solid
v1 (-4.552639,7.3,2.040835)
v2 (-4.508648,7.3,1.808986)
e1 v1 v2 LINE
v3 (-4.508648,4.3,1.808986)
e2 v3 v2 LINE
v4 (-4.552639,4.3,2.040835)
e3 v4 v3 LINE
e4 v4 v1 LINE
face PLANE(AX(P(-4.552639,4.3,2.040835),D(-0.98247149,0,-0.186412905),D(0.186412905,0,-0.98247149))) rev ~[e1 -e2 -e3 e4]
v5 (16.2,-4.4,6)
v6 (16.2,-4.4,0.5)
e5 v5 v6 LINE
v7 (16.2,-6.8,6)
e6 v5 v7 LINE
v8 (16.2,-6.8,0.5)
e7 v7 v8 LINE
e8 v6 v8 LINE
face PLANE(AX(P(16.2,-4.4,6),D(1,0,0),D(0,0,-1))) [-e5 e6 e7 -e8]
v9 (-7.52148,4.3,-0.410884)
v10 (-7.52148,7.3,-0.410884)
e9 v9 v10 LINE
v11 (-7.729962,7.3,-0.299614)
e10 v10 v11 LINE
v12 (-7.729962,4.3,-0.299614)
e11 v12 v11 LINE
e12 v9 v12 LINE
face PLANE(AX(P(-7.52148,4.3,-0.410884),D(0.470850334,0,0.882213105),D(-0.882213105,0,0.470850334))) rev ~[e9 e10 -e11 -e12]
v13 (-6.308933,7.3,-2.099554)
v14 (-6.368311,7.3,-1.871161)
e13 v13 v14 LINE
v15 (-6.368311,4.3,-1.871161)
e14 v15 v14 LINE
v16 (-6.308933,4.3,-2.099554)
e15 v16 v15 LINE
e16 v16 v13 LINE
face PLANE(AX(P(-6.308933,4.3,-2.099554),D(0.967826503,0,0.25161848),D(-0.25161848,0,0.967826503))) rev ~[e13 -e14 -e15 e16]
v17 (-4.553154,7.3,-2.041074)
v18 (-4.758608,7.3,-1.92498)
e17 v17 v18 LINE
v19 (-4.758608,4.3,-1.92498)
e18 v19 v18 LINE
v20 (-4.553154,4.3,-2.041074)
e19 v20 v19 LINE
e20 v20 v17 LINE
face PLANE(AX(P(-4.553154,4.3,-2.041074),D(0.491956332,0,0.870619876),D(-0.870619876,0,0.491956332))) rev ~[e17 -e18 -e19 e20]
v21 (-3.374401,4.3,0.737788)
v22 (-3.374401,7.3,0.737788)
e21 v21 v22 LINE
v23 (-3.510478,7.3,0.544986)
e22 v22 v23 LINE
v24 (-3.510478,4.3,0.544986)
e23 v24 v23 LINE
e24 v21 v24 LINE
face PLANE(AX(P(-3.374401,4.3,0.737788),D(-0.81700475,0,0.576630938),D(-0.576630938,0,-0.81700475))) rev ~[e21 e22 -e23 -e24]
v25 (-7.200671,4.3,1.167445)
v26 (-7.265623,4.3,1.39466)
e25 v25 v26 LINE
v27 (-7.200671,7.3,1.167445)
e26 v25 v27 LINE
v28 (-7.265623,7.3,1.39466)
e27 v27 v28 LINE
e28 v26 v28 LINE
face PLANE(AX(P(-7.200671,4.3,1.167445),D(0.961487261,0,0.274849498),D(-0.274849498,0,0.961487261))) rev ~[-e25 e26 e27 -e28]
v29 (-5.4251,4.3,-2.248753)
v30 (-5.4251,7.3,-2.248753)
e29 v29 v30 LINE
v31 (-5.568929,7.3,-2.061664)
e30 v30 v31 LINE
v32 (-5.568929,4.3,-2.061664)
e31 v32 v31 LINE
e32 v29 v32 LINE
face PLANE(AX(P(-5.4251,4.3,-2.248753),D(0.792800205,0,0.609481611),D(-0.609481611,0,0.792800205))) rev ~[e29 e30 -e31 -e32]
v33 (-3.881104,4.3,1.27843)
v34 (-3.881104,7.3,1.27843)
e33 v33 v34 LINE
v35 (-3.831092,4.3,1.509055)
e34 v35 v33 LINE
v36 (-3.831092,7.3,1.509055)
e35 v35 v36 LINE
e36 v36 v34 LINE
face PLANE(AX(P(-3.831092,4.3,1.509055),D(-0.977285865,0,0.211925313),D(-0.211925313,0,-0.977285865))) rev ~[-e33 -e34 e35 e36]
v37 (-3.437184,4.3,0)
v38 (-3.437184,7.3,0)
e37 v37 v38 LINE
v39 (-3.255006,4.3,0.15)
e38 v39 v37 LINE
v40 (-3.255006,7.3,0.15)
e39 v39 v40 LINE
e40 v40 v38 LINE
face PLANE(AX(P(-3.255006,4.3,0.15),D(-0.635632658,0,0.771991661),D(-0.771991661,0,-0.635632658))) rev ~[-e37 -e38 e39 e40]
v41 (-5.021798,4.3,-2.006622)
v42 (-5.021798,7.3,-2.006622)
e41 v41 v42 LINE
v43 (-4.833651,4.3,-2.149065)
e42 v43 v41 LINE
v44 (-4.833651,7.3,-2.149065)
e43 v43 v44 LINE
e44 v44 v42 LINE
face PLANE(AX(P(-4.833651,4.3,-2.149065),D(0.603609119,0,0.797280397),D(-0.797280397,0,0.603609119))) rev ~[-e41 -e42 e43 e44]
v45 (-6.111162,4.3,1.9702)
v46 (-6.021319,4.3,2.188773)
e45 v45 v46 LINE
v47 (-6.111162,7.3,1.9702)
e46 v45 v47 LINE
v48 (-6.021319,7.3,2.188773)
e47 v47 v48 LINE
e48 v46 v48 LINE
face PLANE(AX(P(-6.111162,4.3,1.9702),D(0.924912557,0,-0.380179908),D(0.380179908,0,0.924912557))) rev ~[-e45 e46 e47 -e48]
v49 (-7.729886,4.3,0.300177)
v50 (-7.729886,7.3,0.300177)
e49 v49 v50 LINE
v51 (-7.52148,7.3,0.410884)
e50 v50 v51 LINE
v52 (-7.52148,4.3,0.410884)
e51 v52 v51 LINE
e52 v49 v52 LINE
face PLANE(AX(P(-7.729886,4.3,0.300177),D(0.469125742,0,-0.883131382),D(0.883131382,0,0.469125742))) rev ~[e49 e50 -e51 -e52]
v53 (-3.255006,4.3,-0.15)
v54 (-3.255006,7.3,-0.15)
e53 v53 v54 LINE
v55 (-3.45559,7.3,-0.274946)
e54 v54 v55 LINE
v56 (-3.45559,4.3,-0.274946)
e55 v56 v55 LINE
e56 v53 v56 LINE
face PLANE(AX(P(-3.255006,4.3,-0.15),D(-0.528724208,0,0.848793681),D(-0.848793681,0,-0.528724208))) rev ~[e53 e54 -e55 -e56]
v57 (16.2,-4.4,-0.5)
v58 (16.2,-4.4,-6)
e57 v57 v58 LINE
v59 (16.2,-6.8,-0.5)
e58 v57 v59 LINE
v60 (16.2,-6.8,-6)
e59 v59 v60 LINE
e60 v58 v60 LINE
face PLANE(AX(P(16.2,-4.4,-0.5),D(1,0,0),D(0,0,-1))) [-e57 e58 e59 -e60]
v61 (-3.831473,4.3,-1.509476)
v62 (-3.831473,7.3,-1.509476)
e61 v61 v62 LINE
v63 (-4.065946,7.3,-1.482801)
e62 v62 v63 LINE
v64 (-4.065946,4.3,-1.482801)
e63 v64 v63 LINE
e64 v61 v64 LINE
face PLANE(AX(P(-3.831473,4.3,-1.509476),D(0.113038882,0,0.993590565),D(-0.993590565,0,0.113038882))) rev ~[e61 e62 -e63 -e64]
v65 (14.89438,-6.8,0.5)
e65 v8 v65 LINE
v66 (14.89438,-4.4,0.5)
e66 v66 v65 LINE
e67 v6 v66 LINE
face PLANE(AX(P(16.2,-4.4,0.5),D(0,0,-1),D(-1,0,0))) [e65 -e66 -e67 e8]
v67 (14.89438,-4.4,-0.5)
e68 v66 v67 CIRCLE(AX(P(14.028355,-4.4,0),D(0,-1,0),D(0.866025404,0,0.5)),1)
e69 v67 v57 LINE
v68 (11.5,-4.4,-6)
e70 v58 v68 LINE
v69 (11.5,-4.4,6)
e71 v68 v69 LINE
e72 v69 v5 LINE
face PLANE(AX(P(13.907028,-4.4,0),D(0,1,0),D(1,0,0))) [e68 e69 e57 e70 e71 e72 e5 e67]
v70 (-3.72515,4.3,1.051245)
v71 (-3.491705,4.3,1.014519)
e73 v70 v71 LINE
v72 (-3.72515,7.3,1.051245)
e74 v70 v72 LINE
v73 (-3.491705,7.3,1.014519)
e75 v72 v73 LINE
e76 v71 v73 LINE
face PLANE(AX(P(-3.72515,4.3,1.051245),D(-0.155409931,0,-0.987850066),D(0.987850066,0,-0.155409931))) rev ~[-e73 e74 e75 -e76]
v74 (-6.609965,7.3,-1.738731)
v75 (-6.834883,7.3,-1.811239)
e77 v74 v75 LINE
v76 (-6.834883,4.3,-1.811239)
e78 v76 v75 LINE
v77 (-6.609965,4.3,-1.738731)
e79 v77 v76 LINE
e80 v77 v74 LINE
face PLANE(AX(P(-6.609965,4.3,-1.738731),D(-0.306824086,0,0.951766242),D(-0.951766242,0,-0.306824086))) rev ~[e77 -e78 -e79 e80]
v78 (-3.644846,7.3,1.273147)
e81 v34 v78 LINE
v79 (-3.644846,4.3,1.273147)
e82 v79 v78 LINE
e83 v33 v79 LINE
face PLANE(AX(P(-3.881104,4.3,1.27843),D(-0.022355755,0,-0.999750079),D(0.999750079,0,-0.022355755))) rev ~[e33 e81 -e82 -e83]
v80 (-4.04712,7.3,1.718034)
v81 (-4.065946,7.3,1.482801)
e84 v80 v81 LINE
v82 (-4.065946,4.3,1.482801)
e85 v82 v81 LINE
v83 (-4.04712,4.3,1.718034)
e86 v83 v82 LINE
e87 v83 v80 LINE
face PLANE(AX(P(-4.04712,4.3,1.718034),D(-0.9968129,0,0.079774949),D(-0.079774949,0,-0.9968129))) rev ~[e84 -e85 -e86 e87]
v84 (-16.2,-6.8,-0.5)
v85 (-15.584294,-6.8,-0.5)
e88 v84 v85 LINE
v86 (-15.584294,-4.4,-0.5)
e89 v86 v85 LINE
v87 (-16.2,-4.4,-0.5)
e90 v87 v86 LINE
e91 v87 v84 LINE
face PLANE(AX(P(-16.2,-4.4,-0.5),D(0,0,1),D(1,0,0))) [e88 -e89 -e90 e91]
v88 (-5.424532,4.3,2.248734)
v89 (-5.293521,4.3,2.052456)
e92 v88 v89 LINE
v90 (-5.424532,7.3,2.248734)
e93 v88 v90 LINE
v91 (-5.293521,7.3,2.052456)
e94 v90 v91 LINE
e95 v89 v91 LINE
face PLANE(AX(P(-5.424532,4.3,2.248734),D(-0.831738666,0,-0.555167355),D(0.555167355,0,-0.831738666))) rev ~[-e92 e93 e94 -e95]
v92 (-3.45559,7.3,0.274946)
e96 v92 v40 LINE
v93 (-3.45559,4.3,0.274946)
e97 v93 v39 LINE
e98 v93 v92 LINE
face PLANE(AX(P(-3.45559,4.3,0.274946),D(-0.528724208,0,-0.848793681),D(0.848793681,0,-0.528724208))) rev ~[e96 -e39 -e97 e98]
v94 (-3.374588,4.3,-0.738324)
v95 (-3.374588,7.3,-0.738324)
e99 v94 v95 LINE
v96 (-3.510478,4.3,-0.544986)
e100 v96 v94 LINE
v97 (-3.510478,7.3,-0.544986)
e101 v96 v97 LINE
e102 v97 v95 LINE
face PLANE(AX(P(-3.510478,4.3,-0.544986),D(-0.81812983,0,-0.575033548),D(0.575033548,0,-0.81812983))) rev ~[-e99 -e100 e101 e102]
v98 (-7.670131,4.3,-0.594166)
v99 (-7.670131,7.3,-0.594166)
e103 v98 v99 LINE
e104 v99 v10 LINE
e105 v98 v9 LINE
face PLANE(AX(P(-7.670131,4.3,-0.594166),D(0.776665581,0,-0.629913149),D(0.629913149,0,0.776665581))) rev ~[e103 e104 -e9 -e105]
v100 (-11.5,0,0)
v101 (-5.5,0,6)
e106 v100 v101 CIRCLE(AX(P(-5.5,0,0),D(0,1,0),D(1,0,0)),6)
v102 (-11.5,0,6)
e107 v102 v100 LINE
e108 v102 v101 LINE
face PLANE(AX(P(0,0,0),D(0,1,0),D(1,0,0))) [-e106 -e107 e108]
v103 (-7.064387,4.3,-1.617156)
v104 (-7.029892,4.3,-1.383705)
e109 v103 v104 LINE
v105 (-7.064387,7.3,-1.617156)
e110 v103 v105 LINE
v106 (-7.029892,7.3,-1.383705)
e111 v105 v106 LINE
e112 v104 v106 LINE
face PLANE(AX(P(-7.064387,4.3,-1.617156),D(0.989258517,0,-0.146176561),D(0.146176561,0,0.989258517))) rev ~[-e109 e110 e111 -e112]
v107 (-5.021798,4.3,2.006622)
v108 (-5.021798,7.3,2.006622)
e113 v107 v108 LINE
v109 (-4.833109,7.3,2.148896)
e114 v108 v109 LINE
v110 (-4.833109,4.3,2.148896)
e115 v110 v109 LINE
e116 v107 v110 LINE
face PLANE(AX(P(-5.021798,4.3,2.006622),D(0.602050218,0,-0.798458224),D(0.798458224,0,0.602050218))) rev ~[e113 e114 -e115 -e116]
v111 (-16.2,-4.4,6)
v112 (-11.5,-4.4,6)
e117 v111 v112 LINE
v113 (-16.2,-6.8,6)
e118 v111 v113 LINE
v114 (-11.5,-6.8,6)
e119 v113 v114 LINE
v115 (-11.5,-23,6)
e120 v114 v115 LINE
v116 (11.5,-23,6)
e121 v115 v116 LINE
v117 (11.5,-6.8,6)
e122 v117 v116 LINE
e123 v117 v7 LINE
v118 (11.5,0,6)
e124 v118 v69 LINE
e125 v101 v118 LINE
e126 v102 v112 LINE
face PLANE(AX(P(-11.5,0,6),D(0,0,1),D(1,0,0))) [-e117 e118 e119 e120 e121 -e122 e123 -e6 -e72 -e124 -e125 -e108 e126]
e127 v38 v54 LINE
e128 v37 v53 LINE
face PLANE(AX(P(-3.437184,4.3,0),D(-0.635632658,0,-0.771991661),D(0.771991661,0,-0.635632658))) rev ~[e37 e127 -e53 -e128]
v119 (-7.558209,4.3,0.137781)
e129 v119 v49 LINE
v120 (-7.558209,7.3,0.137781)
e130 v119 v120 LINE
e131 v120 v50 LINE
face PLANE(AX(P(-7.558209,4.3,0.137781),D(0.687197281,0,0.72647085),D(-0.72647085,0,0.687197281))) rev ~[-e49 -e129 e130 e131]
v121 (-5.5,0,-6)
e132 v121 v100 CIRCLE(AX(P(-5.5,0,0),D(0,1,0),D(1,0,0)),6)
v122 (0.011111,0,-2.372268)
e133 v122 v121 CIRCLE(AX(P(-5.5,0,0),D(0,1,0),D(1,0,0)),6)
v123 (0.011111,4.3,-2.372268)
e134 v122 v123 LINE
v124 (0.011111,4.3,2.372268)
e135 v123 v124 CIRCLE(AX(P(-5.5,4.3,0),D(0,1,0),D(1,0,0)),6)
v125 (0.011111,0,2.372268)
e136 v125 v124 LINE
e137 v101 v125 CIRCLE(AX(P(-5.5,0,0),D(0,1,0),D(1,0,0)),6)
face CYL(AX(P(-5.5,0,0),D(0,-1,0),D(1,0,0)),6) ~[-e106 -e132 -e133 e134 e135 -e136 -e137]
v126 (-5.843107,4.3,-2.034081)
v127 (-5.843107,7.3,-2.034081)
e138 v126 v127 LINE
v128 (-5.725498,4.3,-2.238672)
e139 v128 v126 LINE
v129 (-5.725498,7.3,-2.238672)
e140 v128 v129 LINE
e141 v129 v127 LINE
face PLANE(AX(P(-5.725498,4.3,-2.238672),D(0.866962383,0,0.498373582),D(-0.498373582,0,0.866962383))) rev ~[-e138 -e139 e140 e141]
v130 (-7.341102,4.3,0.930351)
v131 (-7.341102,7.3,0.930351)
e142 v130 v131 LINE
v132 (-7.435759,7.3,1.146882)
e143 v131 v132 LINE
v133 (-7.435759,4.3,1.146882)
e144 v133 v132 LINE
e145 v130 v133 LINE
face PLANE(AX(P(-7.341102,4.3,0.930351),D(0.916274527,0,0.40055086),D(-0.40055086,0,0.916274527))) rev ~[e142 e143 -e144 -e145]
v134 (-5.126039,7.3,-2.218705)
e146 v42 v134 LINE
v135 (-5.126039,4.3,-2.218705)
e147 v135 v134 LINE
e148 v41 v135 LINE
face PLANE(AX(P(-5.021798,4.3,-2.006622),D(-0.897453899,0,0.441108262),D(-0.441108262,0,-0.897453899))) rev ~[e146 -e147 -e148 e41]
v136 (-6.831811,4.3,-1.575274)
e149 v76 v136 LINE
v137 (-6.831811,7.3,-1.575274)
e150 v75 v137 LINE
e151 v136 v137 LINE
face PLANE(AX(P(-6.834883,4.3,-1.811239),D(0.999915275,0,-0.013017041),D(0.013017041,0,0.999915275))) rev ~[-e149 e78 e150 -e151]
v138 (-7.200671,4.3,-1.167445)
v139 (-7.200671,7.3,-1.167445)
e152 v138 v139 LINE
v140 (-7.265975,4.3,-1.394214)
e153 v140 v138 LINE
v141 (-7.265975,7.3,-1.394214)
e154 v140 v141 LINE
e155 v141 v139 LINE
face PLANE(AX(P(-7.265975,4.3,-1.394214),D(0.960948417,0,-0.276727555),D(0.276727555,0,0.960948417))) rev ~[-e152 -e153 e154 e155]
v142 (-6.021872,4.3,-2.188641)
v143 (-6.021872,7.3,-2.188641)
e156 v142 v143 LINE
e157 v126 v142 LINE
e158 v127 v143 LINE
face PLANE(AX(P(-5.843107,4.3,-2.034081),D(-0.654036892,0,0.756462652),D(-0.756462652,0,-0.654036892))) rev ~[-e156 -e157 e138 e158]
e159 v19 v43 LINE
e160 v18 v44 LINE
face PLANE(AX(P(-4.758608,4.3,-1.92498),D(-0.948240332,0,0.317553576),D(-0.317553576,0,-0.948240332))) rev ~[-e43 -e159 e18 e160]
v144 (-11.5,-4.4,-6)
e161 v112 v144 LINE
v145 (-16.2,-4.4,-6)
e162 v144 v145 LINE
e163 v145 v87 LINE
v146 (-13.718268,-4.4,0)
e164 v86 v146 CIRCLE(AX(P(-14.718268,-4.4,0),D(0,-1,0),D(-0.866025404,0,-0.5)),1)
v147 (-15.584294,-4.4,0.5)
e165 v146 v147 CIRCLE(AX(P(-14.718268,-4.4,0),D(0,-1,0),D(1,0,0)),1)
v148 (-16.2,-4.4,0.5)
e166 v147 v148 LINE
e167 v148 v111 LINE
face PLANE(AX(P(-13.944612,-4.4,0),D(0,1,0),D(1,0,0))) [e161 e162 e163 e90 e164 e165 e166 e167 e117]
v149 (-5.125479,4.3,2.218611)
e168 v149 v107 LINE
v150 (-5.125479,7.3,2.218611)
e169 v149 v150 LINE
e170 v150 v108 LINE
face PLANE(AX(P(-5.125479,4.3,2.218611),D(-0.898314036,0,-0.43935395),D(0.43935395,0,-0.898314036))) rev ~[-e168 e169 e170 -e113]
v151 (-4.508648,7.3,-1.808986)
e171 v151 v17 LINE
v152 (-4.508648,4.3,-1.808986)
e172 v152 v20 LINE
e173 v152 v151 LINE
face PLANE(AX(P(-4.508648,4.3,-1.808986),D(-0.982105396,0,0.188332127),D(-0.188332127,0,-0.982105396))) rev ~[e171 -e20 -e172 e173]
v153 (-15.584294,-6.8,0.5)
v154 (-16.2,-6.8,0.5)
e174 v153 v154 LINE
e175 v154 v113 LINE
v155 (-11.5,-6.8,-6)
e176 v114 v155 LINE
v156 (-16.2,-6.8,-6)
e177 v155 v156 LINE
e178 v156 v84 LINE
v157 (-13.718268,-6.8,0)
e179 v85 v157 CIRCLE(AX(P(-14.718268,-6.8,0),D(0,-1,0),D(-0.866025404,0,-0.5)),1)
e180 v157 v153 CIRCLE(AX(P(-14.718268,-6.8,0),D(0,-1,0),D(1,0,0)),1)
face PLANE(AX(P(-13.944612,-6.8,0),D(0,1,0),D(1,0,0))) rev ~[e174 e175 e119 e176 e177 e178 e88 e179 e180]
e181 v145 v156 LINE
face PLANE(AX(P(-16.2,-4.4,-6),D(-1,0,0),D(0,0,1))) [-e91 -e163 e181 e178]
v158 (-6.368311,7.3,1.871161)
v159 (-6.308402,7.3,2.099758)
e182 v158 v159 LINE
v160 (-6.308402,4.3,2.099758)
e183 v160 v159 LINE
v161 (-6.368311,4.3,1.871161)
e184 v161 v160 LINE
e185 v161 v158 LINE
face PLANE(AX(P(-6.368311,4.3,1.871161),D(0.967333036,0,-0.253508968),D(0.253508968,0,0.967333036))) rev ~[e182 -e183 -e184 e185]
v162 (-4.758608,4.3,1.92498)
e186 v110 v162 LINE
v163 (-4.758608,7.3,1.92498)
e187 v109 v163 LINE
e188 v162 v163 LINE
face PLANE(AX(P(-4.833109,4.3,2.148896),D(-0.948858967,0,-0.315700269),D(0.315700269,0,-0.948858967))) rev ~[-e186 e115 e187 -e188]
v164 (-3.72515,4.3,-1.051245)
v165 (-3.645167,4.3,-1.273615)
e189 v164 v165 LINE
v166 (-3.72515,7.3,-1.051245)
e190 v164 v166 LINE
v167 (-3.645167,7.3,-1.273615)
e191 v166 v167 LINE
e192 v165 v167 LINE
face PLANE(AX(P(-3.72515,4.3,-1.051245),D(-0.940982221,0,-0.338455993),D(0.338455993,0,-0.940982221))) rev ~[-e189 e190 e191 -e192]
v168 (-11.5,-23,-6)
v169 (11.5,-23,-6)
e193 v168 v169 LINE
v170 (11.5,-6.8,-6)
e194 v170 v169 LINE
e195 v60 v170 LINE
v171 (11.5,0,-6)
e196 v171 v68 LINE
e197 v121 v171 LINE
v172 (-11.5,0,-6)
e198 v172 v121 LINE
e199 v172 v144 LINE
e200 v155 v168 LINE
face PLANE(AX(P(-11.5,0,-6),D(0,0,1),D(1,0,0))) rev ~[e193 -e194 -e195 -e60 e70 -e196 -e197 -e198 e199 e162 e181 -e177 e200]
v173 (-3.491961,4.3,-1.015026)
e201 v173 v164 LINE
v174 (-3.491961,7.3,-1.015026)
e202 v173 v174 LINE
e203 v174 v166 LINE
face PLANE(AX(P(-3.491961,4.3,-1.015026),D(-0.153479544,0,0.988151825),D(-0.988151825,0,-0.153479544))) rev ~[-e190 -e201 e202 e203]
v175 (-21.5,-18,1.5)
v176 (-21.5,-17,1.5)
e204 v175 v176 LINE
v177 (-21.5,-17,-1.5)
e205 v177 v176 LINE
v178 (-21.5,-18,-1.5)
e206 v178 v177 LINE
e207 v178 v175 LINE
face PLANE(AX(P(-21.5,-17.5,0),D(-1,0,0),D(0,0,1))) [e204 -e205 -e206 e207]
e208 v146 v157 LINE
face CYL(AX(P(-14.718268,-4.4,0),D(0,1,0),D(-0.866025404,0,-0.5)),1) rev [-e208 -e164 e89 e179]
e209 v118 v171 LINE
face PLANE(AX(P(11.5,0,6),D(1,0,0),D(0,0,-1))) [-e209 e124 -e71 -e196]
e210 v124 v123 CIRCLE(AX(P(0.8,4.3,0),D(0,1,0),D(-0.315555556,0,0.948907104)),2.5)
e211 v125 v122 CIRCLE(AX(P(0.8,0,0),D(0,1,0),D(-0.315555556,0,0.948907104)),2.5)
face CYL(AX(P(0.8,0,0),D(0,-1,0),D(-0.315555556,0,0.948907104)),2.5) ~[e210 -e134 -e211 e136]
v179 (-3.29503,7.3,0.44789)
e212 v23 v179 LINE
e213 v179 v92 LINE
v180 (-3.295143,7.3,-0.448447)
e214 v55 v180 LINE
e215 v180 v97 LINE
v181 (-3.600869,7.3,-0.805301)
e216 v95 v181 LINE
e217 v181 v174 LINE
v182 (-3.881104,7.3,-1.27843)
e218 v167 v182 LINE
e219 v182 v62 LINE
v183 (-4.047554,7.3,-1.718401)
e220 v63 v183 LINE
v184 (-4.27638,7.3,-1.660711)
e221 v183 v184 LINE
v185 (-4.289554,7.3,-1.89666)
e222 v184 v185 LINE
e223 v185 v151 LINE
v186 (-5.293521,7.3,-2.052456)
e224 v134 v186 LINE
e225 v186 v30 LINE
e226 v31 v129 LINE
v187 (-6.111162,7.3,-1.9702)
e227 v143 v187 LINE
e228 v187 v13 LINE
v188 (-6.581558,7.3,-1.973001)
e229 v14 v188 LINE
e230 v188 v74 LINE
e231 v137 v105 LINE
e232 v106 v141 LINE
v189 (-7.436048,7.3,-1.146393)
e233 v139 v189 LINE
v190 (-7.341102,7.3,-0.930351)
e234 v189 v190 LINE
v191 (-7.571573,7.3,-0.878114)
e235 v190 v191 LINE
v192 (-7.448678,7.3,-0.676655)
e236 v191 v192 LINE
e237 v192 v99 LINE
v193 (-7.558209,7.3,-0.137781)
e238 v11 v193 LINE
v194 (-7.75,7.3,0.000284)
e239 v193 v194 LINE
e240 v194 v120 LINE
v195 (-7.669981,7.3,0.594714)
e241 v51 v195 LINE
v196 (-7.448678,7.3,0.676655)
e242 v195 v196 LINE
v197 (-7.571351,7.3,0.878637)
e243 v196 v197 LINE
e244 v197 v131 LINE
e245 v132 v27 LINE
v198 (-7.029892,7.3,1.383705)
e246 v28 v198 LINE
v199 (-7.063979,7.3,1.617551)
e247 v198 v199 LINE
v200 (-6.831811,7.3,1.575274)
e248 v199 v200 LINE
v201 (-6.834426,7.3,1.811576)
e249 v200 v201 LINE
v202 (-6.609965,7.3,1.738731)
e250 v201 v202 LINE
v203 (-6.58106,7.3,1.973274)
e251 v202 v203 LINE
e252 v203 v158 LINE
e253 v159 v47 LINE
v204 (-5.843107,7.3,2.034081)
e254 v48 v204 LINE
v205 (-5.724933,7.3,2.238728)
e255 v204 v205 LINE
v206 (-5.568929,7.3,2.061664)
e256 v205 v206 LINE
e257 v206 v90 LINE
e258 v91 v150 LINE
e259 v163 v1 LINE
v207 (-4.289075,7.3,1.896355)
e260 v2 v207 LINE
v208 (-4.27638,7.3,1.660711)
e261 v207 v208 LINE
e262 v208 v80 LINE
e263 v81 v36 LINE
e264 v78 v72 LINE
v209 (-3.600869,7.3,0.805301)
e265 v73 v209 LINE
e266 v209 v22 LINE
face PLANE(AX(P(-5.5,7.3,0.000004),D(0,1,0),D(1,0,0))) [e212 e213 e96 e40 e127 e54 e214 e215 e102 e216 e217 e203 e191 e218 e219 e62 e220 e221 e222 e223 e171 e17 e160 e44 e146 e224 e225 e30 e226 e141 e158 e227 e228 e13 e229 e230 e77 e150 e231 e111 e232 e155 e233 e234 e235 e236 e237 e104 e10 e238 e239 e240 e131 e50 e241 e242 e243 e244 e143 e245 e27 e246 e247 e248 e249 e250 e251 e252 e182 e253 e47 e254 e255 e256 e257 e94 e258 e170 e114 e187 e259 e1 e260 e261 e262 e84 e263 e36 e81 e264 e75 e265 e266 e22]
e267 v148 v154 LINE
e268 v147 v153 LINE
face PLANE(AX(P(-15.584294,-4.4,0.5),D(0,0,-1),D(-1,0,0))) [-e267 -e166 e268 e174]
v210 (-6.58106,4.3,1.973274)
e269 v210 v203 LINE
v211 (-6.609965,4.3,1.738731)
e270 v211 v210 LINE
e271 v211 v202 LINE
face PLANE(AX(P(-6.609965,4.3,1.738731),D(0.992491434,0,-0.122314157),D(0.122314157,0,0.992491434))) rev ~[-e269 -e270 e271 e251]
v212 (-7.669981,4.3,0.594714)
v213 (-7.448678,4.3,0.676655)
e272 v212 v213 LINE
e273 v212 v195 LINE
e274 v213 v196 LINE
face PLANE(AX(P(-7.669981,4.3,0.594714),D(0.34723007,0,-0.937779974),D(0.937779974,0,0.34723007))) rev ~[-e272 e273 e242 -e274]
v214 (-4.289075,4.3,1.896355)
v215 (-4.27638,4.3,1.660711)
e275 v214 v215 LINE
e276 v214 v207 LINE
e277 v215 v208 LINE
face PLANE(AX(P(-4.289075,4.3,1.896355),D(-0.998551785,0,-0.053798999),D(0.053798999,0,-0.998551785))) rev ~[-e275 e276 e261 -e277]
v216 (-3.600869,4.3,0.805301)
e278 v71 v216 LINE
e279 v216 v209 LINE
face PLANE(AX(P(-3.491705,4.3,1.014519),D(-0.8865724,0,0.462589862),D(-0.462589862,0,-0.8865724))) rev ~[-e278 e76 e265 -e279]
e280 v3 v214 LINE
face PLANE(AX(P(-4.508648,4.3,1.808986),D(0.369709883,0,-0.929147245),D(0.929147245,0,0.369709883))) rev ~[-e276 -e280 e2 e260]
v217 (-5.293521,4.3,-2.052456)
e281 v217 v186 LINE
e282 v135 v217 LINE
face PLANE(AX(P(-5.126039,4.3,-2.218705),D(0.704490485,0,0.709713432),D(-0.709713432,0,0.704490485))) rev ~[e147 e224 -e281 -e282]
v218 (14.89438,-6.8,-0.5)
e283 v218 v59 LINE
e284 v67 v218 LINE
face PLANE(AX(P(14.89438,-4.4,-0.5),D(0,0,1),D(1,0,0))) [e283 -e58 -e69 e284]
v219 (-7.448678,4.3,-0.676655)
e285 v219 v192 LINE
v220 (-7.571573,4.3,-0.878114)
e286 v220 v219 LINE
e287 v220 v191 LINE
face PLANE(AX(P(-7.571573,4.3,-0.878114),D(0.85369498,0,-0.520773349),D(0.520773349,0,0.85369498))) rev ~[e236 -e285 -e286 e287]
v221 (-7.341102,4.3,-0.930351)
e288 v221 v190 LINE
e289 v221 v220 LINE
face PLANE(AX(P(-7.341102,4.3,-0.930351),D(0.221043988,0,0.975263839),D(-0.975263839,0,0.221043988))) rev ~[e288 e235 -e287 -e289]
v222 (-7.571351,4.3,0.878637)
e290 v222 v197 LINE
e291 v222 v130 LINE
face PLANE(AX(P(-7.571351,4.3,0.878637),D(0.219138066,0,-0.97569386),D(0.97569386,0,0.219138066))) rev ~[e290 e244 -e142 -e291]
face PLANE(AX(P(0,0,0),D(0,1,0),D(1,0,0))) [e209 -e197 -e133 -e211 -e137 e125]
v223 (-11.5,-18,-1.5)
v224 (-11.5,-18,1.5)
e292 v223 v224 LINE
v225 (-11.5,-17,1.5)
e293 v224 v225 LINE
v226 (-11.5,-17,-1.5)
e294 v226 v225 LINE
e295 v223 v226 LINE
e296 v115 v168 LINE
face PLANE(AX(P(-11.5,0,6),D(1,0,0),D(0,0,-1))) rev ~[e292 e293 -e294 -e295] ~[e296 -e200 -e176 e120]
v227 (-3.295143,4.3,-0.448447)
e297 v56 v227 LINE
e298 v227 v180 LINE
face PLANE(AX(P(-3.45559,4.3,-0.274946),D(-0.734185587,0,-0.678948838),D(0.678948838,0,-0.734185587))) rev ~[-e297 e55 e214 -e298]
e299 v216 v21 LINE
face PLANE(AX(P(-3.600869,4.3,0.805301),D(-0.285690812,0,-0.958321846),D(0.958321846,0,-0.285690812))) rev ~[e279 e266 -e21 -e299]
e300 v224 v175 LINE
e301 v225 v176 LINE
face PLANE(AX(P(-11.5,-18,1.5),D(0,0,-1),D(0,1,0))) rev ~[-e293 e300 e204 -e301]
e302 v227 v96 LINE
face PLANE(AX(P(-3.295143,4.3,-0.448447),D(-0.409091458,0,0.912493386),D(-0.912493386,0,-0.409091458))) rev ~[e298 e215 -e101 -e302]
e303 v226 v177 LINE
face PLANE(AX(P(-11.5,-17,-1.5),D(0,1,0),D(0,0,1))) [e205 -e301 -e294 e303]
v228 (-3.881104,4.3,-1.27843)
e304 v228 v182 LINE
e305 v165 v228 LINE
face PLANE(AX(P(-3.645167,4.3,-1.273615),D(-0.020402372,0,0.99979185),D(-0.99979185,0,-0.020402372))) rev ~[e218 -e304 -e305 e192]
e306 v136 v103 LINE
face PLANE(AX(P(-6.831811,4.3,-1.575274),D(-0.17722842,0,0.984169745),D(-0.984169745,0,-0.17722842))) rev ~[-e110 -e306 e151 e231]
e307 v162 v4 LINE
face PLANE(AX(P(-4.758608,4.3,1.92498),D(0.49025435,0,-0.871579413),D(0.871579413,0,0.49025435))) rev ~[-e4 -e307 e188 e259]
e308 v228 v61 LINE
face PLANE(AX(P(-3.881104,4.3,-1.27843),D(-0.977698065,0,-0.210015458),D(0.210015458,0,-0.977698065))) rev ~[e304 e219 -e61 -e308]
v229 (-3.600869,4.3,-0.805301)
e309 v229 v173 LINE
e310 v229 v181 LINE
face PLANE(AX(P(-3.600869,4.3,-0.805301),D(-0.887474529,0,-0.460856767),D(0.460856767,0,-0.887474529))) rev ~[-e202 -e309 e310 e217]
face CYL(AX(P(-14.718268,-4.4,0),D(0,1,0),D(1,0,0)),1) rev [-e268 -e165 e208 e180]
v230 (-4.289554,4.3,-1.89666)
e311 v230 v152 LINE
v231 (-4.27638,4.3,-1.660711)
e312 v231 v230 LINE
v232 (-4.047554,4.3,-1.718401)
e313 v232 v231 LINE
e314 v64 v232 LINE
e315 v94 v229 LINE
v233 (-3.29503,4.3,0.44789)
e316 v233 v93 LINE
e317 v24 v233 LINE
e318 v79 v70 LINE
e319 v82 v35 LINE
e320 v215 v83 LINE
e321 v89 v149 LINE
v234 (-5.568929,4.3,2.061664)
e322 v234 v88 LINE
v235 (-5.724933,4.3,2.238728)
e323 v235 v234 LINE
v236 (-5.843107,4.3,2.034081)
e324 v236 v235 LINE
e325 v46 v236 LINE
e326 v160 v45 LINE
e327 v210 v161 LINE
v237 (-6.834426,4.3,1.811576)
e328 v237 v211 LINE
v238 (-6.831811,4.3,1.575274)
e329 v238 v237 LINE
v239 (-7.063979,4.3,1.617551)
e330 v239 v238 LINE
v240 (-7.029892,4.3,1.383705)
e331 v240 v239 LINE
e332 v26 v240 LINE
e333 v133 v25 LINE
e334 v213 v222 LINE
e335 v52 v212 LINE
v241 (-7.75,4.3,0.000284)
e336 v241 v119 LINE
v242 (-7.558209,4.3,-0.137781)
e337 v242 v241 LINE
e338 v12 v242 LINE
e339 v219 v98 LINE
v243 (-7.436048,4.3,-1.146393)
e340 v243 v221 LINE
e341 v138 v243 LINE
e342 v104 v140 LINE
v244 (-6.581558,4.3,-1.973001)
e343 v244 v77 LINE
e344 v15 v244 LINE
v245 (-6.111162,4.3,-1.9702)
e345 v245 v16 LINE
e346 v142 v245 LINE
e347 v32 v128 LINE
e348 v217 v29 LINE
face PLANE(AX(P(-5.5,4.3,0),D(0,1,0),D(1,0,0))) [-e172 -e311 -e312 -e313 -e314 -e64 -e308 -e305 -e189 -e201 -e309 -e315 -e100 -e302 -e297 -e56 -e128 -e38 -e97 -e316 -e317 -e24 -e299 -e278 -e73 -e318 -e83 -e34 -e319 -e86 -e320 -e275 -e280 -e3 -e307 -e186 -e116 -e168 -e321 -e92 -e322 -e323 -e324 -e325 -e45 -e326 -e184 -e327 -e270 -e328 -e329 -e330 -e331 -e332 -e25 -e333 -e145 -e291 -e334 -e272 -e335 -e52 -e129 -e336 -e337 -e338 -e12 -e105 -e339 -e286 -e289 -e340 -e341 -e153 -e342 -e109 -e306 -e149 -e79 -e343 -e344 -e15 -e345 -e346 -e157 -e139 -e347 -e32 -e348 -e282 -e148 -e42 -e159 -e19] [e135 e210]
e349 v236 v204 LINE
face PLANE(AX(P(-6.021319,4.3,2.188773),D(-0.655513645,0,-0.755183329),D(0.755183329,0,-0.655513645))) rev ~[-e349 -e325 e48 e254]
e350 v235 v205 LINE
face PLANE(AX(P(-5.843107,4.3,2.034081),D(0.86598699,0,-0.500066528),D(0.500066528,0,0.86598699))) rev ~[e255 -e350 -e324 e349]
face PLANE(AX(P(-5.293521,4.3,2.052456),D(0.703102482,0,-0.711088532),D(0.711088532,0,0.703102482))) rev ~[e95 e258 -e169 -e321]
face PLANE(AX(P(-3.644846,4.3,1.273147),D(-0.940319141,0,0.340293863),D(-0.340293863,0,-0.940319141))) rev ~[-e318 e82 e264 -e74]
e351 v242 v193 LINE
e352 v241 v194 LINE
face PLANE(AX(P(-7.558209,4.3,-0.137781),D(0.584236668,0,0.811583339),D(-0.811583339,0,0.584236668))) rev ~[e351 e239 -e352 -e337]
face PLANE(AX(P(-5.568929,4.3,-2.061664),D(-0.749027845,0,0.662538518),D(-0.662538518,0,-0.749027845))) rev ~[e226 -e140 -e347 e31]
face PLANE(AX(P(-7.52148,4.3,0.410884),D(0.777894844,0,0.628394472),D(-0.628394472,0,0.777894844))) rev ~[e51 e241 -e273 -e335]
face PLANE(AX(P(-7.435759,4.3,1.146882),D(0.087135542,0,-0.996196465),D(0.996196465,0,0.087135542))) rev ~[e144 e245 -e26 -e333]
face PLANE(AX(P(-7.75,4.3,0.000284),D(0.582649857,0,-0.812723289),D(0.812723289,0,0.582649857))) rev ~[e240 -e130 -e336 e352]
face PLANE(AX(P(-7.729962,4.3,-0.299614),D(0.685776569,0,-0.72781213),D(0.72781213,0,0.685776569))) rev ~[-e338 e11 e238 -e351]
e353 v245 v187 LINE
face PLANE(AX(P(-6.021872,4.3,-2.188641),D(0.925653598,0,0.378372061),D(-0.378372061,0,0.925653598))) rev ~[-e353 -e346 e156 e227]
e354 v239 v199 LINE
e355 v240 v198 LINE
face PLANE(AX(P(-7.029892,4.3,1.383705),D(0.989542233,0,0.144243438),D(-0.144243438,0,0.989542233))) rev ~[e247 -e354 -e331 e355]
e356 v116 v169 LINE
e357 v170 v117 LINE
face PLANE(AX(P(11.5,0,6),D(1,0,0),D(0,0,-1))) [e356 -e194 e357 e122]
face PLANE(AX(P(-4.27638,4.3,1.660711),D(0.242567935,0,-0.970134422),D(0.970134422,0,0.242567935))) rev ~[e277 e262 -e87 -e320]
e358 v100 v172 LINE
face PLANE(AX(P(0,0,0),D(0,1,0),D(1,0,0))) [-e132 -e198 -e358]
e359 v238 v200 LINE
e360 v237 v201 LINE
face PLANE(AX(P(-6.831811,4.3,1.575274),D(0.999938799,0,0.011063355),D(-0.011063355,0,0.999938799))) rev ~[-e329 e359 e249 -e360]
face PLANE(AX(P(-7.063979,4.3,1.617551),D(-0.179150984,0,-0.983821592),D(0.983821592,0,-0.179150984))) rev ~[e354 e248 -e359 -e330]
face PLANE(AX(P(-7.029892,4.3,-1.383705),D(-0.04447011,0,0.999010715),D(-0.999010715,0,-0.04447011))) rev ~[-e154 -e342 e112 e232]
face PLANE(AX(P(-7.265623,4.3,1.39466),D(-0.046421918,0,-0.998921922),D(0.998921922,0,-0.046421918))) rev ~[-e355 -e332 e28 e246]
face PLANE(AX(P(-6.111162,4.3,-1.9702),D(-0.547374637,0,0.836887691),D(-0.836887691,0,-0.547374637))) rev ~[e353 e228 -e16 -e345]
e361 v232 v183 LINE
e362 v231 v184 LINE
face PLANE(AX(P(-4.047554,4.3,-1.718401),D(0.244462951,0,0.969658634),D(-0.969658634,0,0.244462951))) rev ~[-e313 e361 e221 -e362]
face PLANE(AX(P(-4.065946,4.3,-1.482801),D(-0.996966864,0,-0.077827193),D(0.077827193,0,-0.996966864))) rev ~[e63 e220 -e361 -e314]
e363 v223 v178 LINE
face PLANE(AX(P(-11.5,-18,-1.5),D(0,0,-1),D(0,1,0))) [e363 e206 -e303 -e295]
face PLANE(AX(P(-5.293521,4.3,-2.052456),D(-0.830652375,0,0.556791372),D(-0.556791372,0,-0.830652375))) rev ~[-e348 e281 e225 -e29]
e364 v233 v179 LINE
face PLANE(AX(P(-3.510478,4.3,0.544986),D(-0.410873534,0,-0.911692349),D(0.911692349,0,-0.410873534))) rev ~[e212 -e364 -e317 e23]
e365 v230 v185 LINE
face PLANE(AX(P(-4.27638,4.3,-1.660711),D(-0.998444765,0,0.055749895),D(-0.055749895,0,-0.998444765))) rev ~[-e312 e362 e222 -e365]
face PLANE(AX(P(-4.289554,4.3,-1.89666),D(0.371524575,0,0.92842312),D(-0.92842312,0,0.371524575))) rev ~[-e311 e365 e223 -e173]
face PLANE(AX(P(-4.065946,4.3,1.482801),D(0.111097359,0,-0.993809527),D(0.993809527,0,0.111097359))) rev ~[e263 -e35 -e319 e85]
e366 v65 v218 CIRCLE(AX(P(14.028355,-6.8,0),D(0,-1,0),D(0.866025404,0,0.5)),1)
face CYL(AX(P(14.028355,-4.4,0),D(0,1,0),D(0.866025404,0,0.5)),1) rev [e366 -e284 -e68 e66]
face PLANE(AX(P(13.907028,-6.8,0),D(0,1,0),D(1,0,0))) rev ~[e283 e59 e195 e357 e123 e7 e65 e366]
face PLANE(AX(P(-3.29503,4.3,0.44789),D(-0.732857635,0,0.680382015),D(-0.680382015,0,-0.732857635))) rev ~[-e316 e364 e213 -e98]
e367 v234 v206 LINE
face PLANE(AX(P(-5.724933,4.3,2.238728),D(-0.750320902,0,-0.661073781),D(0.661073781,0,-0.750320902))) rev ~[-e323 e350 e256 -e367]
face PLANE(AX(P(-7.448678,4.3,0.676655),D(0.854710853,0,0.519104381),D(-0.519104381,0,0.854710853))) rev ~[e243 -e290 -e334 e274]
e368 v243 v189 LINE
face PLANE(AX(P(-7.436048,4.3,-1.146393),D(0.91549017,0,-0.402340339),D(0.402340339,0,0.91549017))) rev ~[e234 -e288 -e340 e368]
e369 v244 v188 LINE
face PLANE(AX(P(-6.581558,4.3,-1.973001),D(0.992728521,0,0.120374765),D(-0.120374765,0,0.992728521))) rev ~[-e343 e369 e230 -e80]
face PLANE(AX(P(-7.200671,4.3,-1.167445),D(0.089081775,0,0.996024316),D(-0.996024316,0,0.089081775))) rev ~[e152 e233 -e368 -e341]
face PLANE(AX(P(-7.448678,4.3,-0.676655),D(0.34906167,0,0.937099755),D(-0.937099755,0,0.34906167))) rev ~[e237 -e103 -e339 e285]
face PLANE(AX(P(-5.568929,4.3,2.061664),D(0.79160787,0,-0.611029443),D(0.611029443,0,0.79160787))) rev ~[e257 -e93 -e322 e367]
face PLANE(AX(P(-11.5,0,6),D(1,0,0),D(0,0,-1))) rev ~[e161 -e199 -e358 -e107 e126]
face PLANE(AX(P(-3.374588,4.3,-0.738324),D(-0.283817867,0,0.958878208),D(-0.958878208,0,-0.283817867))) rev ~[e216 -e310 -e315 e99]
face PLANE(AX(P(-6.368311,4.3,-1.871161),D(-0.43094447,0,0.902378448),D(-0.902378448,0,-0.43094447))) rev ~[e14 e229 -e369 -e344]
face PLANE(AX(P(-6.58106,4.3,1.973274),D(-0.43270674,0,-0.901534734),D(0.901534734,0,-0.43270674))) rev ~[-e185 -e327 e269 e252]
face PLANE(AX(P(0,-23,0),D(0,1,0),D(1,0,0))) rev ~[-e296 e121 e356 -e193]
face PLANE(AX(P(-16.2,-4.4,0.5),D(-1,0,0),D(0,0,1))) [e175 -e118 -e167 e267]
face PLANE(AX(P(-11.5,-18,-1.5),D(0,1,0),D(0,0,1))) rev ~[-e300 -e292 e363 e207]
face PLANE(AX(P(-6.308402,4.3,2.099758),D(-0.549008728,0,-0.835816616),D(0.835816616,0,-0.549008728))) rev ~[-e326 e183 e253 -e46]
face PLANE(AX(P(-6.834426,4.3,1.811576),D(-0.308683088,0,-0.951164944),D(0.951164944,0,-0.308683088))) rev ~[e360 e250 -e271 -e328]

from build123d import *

# Parameters (mm, degrees)
SKETCH2_W           = 23
SKETCH2_H           = 12
BOSS_EXTRUDE1_DEPTH = 23
BOSS_EXTRUDE2_START = -4.4
BOSS_EXTRUDE2_DEPTH = 2.4
SKETCH4_R           = 6
SKETCH4_R_2         = 2.5
BOSS_EXTRUDE3_DEPTH = 4.3
BOSS_EXTRUDE4_DEPTH = 3
SKETCH6_W           = 3
SKETCH6_H           = 1
BOSS_EXTRUDE5_DEPTH = 10


with BuildPart() as part:
    # Sketch2 → Boss-Extrude1 (new body)
    with BuildSketch(Plane(origin=(0, 0, 0), x_dir=(1, 0, 0), z_dir=(0, 1, 0))):
        Rectangle(SKETCH2_W, SKETCH2_H)
    extrude(amount=-BOSS_EXTRUDE1_DEPTH)

    # Sketch3 → Boss-Extrude2 (add)
    with BuildSketch(Plane(origin=(0, 0, 0), x_dir=(1, 0, 0), z_dir=(0, 1, 0)).offset(BOSS_EXTRUDE2_START)):
        with BuildLine():
            Line((-16.2, -0.5), (-16.2, -6))
            Line((-16.2, -6), (-11.5, -6))
            Line((-11.5, -6), (-11.5, 6))
            Line((-11.5, 6), (-16.2, 6))
            Line((-16.2, 6), (-16.2, 0.5))
            Line((-16.2, 0.5), (-15.584293743, 0.5))
            ThreePointArc((-15.584293743, 0.5), (-14.459449294, 0.965925826), (-13.718268339, 0))
            ThreePointArc((-13.718268339, 0), (-14.459449294, -0.965925826), (-15.584293743, -0.5))
            Line((-15.584293743, -0.5), (-16.2, -0.5))
        make_face()
        with BuildLine():
            Line((11.5, 6), (11.5, -6))
            Line((11.5, -6), (16.2, -6))
            Line((16.2, -6), (16.2, -0.5))
            Line((16.2, -0.5), (14.894380034, -0.5))
            ThreePointArc((14.894380034, -0.5), (13.02835463, 0), (14.894380034, 0.5))
            Line((14.894380034, 0.5), (16.2, 0.5))
            Line((16.2, 0.5), (16.2, 6))
            Line((16.2, 6), (11.5, 6))
        make_face()
    extrude(amount=-BOSS_EXTRUDE2_DEPTH)

    # Sketch4 → Boss-Extrude3 (add)
    with BuildSketch(Plane(origin=(0, 0, 0), x_dir=(1, 0, 0), z_dir=(0, 1, 0))):
        with Locations((-5.5, 0)):
            Circle(SKETCH4_R)
        with Locations((0.8, 0)):
            Circle(SKETCH4_R_2)
    extrude(amount=BOSS_EXTRUDE3_DEPTH)

    # Sketch5 → Boss-Extrude4 (add)
    with BuildSketch(Plane(origin=(0, 4.3, 0), x_dir=(1, 0, 0), z_dir=(0, 1, 0))):
        Polygon((-3.255005568, -0.15), (-3.437184296, 0), (-3.255005568, 0.15), (-3.455589794, 0.274946425), (-3.295142762, 0.44844683), (-3.51047784, 0.544986424), (-3.374587739, 0.738324266), (-3.600868956, 0.805301127), (-3.491960749, 1.015026288), (-3.725150111, 1.051245213), (-3.645167266, 1.273615142), (-3.881103504, 1.278429803), (-3.831473318, 1.509476304), (-4.065946143, 1.482800783), (-4.047554268, 1.718400825), (-4.276379508, 1.660711148), (-4.289554146, 1.896660443), (-4.508648409, 1.808986083), (-4.553154459, 2.04107411), (-4.758608002, 1.924979619), (-4.833651254, 2.149064761), (-5.021797754, 2.006621847), (-5.126039057, 2.218705301), (-5.293521035, 2.052455862), (-5.425100203, 2.248752992), (-5.568928939, 2.061663752), (-5.725497937, 2.238671633), (-5.843106805, 2.034081205), (-6.021871655, 2.188641125), (-6.111161921, 1.97020043), (-6.308932561, 2.099554265), (-6.368310838, 1.871161381), (-6.581558046, 1.973000809), (-6.609964728, 1.738731414), (-6.834883102, 1.811239107), (-6.831811271, 1.575273743), (-7.064387138, 1.6171558), (-7.02989161, 1.383705275), (-7.265974648, 1.39421431), (-7.200670997, 1.167444554), (-7.436048299, 1.146393032), (-7.34110187, 0.930350756), (-7.571573122, 0.878114343), (-7.448678237, 0.676654828), (-7.670130674, 0.594165683), (-7.521480394, 0.410883978), (-7.729962192, 0.299614123), (-7.558209186, 0.137780894), (-7.749999982, -0.000284059), (-7.558209186, -0.137780894), (-7.729886469, -0.300177172), (-7.521480394, -0.410883978), (-7.669980579, -0.594713616), (-7.448678237, -0.676654828), (-7.571351335, -0.878637381), (-7.34110187, -0.930350756), (-7.435758777, -1.146881842), (-7.200670997, -1.167444554), (-7.265622557, -1.394660168), (-7.02989161, -1.383705275), (-7.063978761, -1.617550752), (-6.831811271, -1.575273743), (-6.834425728, -1.811576103), (-6.609964728, -1.738731414), (-6.581059835, -1.973273836), (-6.368310838, -1.871161381), (-6.308402404, -2.099758451), (-6.111161921, -1.97020043), (-6.021319013, -2.188772827), (-5.843106805, -2.034081205), (-5.724932672, -2.238728499), (-5.568928939, -2.061663752), (-5.424532402, -2.248734009), (-5.293521035, -2.052455862), (-5.125478853, -2.218610806), (-5.021797754, -2.006621847), (-4.833108643, -2.148896442), (-4.758608002, -1.924979619), (-4.552639125, -2.040834969), (-4.508648409, -1.808986083), (-4.289075284, -1.896354748), (-4.276379508, -1.660711148), (-4.047120423, -1.718034032), (-4.065946143, -1.482800783), (-3.831092233, -1.509054958), (-3.881103504, -1.278429803), (-3.644845742, -1.273146762), (-3.725150111, -1.051245213), (-3.491704522, -1.014519232), (-3.600868956, -0.805301127), (-3.374401382, -0.737787582), (-3.51047784, -0.544986424), (-3.295029601, -0.447890096), (-3.455589794, -0.274946425), align=None)
    extrude(amount=BOSS_EXTRUDE4_DEPTH)

    # Sketch6 → Boss-Extrude5 (add)
    with BuildSketch(Plane.ZY.offset(11.5)):
        with Locations((0, -17.5)):
            Rectangle(SKETCH6_W, SKETCH6_H)
    extrude(amount=BOSS_EXTRUDE5_DEPTH)


solid = part.part
